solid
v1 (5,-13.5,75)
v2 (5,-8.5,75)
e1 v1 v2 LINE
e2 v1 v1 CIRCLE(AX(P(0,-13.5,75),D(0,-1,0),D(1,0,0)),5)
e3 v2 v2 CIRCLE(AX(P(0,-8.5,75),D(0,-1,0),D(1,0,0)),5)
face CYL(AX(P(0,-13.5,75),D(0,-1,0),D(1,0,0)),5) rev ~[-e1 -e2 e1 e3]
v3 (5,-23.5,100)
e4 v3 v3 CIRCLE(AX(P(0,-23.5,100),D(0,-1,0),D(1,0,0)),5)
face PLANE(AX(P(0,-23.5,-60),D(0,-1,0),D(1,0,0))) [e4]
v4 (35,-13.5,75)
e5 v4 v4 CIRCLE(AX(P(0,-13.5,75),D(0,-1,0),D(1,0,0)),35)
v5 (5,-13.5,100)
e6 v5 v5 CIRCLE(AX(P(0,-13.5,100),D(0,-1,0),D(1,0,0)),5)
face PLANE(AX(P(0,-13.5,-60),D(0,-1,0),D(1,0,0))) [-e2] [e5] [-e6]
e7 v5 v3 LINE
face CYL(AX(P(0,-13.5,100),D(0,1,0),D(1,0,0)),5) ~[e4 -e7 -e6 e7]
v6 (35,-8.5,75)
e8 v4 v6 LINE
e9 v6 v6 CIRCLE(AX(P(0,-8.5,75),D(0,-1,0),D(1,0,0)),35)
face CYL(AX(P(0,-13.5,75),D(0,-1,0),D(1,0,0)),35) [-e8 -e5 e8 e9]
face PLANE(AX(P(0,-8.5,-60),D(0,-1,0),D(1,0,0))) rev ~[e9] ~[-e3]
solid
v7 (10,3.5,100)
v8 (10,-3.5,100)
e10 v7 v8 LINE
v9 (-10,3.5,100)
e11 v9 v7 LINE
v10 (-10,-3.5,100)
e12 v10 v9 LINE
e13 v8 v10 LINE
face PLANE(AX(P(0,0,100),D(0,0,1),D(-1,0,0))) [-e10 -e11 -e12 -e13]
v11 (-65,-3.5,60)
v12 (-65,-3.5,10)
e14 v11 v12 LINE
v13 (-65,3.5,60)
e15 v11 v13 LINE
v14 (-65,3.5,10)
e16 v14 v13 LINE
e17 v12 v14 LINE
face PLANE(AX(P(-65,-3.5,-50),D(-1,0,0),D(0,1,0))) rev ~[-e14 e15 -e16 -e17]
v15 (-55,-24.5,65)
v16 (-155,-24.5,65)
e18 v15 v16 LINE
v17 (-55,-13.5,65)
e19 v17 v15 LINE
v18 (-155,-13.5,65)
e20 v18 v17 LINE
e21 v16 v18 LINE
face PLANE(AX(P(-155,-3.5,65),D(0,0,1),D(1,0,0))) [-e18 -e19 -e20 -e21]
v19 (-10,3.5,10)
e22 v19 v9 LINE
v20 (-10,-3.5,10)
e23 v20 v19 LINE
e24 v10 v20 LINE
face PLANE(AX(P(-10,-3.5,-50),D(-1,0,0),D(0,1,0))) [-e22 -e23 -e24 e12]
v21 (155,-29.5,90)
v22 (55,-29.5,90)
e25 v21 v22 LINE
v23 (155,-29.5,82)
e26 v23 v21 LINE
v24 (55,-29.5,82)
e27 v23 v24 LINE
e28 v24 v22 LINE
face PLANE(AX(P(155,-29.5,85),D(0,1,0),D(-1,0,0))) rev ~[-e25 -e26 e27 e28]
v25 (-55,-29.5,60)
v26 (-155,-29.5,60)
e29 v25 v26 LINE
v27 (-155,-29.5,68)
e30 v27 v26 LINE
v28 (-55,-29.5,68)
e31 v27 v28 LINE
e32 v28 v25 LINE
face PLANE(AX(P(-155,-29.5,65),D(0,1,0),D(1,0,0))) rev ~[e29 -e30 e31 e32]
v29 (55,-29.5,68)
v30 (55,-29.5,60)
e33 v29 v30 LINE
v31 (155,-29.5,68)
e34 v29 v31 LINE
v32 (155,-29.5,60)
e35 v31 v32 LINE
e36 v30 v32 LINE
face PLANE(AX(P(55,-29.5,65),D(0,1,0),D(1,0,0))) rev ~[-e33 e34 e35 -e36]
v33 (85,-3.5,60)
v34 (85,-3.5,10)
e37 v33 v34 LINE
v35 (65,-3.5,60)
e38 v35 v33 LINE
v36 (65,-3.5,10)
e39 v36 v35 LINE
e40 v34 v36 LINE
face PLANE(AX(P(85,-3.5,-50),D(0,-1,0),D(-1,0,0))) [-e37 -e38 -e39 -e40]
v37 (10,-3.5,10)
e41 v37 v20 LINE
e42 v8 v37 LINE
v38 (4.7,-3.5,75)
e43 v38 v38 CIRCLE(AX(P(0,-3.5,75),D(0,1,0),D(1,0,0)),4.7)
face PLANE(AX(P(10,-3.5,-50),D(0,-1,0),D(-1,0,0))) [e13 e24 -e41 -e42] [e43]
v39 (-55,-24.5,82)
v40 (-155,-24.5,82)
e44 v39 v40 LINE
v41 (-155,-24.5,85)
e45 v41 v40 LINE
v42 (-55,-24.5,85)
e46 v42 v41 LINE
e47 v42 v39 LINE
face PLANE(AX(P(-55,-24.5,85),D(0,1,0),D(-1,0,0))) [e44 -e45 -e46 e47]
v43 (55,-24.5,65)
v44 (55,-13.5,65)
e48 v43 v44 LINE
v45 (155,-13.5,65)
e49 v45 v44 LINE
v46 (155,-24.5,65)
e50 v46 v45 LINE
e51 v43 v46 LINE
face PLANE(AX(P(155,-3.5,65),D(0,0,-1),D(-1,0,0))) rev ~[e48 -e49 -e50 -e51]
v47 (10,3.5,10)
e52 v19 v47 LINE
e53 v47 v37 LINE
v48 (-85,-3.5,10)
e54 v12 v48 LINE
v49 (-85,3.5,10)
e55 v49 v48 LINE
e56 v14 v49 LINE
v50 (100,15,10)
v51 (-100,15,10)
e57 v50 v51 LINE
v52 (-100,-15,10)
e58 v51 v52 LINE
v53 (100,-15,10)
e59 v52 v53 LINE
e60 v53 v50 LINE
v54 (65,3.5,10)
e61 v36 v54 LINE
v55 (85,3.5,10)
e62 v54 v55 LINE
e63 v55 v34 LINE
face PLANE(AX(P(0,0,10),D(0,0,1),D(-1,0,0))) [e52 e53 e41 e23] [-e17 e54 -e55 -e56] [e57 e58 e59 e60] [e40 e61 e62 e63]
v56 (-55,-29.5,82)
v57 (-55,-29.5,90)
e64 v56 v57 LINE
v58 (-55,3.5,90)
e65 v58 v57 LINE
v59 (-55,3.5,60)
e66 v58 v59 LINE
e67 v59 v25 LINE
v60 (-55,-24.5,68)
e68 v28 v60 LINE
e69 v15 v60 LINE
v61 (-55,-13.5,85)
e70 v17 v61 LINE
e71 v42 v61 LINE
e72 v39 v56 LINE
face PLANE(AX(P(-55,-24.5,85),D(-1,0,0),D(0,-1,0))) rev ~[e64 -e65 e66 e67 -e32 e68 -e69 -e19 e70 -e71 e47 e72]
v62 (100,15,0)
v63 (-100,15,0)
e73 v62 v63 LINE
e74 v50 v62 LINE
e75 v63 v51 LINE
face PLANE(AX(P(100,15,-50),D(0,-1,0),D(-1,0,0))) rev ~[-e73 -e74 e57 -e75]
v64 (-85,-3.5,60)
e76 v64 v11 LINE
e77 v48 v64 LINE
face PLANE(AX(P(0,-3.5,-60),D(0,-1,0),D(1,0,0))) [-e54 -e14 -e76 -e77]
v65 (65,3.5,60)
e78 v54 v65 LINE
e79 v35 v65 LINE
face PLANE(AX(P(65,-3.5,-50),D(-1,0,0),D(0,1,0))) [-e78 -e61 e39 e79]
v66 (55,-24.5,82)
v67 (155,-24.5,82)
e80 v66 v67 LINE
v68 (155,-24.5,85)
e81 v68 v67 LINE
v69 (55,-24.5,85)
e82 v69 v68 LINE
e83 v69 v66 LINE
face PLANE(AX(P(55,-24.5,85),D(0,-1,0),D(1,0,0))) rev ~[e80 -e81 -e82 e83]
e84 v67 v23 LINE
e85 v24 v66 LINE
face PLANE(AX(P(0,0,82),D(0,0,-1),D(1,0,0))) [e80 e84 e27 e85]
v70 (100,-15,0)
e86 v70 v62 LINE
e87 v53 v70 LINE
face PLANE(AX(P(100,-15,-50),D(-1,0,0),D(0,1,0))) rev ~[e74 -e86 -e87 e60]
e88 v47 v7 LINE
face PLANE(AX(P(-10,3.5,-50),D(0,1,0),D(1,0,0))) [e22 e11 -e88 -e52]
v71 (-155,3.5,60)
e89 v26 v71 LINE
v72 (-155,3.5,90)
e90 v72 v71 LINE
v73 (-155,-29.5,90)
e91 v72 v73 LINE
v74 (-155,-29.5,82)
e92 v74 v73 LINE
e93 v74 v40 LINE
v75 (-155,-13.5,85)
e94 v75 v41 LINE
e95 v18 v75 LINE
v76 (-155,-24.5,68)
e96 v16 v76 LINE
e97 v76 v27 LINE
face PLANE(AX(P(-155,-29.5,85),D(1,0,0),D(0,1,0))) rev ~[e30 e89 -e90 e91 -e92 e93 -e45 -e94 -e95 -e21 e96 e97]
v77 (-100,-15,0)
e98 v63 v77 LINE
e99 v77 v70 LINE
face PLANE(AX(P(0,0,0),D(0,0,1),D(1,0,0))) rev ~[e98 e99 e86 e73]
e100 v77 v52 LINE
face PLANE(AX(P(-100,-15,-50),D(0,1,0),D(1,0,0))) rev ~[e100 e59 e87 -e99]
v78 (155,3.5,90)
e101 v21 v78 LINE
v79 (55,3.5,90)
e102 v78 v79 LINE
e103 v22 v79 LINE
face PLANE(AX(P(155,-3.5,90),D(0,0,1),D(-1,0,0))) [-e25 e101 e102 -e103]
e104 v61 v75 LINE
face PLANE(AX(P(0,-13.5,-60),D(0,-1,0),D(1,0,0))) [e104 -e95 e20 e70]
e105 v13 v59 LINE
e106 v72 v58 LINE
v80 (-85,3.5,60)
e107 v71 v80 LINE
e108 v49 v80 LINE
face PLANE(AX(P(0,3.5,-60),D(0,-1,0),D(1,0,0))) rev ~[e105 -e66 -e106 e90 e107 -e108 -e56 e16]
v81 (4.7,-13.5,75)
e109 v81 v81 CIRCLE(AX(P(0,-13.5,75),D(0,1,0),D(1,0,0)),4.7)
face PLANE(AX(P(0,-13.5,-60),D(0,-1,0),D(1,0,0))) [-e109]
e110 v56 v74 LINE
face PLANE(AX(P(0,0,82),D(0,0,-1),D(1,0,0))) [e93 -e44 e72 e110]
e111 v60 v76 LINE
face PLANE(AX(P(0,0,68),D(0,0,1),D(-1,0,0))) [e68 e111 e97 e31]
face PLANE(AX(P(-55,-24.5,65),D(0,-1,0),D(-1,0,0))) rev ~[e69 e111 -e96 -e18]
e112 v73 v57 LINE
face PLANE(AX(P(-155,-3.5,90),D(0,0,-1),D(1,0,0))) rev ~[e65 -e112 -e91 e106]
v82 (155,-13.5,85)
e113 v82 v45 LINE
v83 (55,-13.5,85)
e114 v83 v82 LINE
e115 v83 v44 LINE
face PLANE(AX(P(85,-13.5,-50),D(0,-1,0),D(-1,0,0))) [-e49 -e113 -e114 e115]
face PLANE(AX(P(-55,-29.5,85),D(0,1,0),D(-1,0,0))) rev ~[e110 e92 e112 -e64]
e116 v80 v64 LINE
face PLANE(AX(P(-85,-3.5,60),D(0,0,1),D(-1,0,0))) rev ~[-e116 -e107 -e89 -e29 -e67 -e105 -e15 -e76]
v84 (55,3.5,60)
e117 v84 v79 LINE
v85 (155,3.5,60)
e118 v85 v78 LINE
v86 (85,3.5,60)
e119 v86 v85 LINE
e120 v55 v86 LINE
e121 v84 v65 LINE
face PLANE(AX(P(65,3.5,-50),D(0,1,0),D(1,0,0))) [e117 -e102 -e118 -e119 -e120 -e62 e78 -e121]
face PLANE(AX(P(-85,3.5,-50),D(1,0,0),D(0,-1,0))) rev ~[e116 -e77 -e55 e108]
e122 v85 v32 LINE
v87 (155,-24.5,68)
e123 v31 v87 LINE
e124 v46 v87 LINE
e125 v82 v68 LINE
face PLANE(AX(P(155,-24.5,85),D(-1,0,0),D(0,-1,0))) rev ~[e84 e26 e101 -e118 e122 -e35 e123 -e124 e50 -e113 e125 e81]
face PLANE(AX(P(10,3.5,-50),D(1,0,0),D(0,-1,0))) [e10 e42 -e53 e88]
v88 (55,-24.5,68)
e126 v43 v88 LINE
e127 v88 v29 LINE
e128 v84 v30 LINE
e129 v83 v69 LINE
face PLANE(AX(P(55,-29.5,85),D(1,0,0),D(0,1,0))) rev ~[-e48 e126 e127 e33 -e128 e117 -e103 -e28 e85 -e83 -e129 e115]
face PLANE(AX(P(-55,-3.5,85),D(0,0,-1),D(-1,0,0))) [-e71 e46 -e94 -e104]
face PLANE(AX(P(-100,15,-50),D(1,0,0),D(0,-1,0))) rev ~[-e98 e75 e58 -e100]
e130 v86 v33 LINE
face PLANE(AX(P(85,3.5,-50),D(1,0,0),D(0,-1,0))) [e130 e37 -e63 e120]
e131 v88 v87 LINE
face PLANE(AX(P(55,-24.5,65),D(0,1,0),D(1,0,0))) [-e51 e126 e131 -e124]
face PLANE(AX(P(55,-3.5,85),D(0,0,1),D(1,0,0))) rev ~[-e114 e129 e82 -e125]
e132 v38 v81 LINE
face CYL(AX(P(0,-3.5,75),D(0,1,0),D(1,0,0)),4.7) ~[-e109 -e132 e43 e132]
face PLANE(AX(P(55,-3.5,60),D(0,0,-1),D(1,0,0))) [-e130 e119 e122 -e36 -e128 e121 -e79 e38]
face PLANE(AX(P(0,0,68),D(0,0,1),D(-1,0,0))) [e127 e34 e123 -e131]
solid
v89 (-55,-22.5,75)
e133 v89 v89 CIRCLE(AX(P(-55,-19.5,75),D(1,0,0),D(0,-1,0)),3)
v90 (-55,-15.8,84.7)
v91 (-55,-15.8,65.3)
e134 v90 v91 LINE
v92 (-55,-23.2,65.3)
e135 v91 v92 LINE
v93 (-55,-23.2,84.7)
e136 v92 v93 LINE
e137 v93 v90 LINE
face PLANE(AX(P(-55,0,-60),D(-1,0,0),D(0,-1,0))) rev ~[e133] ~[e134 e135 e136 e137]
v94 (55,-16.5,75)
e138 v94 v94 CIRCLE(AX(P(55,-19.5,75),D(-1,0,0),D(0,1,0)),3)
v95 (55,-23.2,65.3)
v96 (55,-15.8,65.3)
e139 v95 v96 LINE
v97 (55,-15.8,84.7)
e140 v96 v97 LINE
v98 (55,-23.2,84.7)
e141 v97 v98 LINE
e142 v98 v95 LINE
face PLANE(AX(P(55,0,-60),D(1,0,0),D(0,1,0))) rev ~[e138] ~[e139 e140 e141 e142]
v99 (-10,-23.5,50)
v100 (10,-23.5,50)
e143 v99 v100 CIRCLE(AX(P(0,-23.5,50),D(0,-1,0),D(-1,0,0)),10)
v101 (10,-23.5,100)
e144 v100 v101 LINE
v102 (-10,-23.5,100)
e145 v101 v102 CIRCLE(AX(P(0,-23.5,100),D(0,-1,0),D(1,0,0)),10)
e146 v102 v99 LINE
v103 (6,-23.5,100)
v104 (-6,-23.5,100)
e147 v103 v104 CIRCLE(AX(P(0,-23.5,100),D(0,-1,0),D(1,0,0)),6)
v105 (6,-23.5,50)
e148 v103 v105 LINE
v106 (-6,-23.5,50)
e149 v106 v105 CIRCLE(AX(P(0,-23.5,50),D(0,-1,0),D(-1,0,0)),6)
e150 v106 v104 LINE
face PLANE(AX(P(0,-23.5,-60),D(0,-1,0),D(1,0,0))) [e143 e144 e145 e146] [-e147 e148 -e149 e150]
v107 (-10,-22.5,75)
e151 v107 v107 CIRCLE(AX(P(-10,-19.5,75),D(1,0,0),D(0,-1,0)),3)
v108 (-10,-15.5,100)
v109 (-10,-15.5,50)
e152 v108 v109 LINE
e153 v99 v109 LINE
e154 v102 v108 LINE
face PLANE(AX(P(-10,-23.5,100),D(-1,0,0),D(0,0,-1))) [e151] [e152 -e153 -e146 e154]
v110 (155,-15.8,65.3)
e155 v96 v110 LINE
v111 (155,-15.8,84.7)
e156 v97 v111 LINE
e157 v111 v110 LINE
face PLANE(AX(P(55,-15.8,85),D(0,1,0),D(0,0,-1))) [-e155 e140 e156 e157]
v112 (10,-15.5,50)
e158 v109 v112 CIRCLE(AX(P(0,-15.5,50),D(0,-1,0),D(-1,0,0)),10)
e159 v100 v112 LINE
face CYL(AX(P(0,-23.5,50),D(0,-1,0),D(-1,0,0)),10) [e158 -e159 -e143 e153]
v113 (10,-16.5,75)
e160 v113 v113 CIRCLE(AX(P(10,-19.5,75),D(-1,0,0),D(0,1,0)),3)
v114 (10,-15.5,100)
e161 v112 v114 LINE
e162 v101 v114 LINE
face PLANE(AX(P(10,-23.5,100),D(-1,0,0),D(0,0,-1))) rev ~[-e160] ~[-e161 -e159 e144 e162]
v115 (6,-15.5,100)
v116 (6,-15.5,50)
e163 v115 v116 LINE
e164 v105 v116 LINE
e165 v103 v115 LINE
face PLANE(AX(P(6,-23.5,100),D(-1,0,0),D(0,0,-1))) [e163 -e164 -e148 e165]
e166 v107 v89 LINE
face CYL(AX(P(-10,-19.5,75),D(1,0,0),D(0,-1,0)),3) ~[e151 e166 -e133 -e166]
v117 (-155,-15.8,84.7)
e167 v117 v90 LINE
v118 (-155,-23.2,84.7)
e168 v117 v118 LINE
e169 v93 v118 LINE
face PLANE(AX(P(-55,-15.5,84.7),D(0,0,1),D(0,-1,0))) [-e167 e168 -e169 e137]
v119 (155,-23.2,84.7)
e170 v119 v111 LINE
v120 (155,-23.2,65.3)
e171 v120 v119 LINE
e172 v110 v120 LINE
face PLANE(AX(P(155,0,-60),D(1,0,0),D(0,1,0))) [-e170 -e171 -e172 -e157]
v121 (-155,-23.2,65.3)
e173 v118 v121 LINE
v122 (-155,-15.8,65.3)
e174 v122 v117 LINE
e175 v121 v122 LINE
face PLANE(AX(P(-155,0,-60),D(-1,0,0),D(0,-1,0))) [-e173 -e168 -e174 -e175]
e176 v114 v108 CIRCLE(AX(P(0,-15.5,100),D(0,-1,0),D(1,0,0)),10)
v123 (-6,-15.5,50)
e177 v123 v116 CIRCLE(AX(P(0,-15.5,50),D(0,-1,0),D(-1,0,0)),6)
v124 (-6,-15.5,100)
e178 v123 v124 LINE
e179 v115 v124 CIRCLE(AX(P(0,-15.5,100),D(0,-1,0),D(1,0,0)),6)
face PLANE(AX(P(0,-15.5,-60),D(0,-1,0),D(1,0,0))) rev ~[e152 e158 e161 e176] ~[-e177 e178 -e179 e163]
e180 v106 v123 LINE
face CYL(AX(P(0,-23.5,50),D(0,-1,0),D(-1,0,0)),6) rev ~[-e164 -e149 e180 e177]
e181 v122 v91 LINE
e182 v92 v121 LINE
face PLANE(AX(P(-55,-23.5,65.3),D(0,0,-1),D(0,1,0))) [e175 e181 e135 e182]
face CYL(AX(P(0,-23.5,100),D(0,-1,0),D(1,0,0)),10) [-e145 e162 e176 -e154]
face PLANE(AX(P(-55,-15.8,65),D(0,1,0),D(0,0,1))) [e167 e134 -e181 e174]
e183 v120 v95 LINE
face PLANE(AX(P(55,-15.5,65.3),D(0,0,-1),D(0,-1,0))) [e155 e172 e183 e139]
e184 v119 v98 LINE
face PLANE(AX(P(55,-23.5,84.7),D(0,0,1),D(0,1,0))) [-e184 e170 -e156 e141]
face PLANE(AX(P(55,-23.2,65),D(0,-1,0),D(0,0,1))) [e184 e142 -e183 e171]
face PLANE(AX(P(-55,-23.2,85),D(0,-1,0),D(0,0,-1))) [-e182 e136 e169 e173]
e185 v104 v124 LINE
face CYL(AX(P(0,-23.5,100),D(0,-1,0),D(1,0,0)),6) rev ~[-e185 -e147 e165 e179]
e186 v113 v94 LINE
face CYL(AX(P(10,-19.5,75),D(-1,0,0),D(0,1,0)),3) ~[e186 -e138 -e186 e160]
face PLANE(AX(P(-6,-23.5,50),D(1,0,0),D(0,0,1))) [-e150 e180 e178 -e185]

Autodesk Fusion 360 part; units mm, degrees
sketch "holder base" plane through (0, 0, 0) normal (0, 0, 1) x (1, 0, 0) in component "Holder"
  line L0 (-100, -15) -> (100, -15)
  line L1 (100, -15) -> (100, 15)
  line L2 (100, 15) -> (-100, 15)
  line L3 (-100, 15) -> (-100, -15)
  line L4 (-100, -15) -> (100, 15) construction
  line L5 (100, -15) -> (-100, 15) construction
extrude "Extrude1" add sketch "holder base" along normal blind 10 makes body 1 in component "Holder"
sketch "crank holder base" plane through (0, 0, 10) normal (0, 0, 1) x (-1, 0, 0) in component "Holder"
  line L0 (100, -15) -> (100, 15)
  line L1 (100, 15) -> (-100, 15)
  line L2 (-100, 15) -> (-100, -15)
  line L3 (-100, -15) -> (100, -15)
  line L4 (-10, 3.5) -> (10, 3.5)
  line L5 (10, 3.5) -> (10, -3.5)
  line L6 (10, -3.5) -> (-10, -3.5)
  line L7 (-10, -3.5) -> (-10, 3.5)
  line L8 (-10, 3.5) -> (10, -3.5) construction
  line L9 (10, 3.5) -> (-10, -3.5) construction
  dimension "d3" = 20
  dimension "d4" = 7
extrude "Extrude2" add sketch "crank holder base" along normal blind 150 contours L4 L5 L6 L7 bodies 1 in component "Holder"
sketch "slider holder base" plane through (0, 0, 10) normal (0, 0, 1) x (-1, 0, 0) in component "Holder"
  line L0 (-10, -3.5) -> (-10, 3.5)
  line L1 (-10, 3.5) -> (10, 3.5)
  line L2 (10, 3.5) -> (10, -3.5)
  line L3 (10, -3.5) -> (-10, -3.5)
  line L4 (100, -15) -> (100, 15)
  line L5 (100, 15) -> (-100, 15)
  line L6 (-100, 15) -> (-100, -15)
  line L7 (-100, -15) -> (100, -15)
  line L8 (-85, 3.5) -> (-65, 3.5)
  line L9 (-65, 3.5) -> (-65, -3.5)
  line L10 (-65, -3.5) -> (-85, -3.5)
  line L11 (-85, -3.5) -> (-85, 3.5)
  line L12 (-85, 3.5) -> (-65, -3.5) construction
  line L13 (-65, 3.5) -> (-85, -3.5) construction
  line L14 (0, -15) -> (0, 15)
  line L15 (65, -3.5) -> (85, -3.5)
  line L16 (85, 3.5) -> (65, 3.5)
  line L17 (85, -3.5) -> (85, 3.5)
  line L18 (65, 3.5) -> (65, -3.5)
  point P0 (-75, 0)
  dimension "d7" = 20
  dimension "d8" = 7
extrude "Extrude3" add sketch "slider holder base" along normal blind 110 contours L8 L9 L10 L11 | L15 L16 L17 L18 bodies 1 in component "Holder"
sketch "crank holder" plane through (0, -3.5, 0) normal (0, -1, 0) x (1, 0, 0) in component "Holder"
  line L0 (-10, 10) -> (10, 10)
  line L1 (10, 10) -> (10, 160)
  line L2 (10, 160) -> (-10, 160)
  line L3 (-10, 160) -> (-10, 10)
  circle A0 centre (0, 135) radius 5
  dimension "d11" = 10
extrude "Extrude4" add sketch "crank holder" along normal blind 10 contours A0 bodies 1 in component "Holder"
sketch "crank" plane through (0, -13.5, 0) normal (0, -1, 0) x (1, 0, 0) in component "Crank"
  circle A0 centre (0, 135) radius 5
  circle A1 centre (0, 135) radius 35
  circle A2 centre (0, 160) radius 5
  dimension "d14" = 10
extrude "Extrude1'" add sketch "crank" against normal blind 5 separate body contours A1 | A2 makes body 2 in component "Crank"
move_face "OffsetFaces1" offset -0.3 1 faces at (-4.6985, -10.1667, 133.2899) on bodies 1 in component "Holder"
extrude "Extrude2'" add sketch "crank" along normal blind 10 contours A2 bodies 2 in component "Crank"
sketch "slider holder side" plane through (0, -3.5, 0) normal (0, -1, 0) x (1, 0, 0) in component "Holder"
  line L0 (-85, 10) -> (-65, 10)
  line L1 (-65, 10) -> (-65, 120)
  line L2 (-65, 120) -> (-85, 120)
  line L3 (-85, 120) -> (-85, 10)
  line L4 (-55, 120) -> (-155, 120)
  line L5 (-155, 120) -> (-155, 150)
  line L6 (-155, 150) -> (-55, 150)
  line L7 (-55, 150) -> (-55, 120)
  line L8 (0, 160) -> (0, 10)
  line L9 (155, 150) -> (55, 150)
  line L10 (55, 150) -> (55, 120)
  line L11 (55, 120) -> (155, 120)
  line L12 (155, 120) -> (155, 150)
  line L13 (-155, 150) -> (-55, 150)
  line L14 (-55, 150) -> (-55, 145)
  line L15 (-55, 145) -> (-155, 145)
  line L16 (-155, 145) -> (-155, 150)
  line L17 (-55, 120) -> (-155, 120)
  line L18 (-155, 120) -> (-155, 125)
  line L19 (-155, 125) -> (-55, 125)
  line L20 (-55, 125) -> (-55, 120)
  line L21 (55, 145) -> (155, 145)
  line L22 (155, 125) -> (55, 125)
  dimension "d20" = 100
  dimension "d21" = 30
  dimension "d24" = 5
  dimension "d25" = 5
extrude "Extrude5" add sketch "slider holder side" against normal blind 7 contours L2 L4 L5 L7 L17 L18 L19 L20 | L5 L7 L15 L19 | L5 L6 L7 L13 L14 L15 L16 | L9 L10 L12 L21 | L10 L12 L21 L22 | L10 L11 L12 L22 bodies 1 in component "Holder"
extrude "Extrude6" add sketch "slider holder side" along normal blind 20 contours L2 L4 L5 L7 L17 L18 L19 L20 | L5 L6 L7 L13 L14 L15 L16 | L9 L10 L12 L21 | L10 L11 L12 L22 bodies 1 in component "Holder"
sketch "slider center" plane through (0, -23.5, 0) normal (0, -1, 0) x (1, 0, 0) in component "Slider"
  circle A0 centre (0, 160) radius 5
  line L0 (0, 170) -> (0, 100)
  line L1 (-10, 160) -> (-10, 110)
  line L2 (0, 100) -> (0, 170) construction
  line L3 (10, 160) -> (10, 110)
  line L4 (-10, 135) -> (10, 135) construction
  arc A1 (-6, 110) -> (6, 110) centre (0, 110) ccw
  line L5 (6, 160) -> (6, 110)
  arc A2 (6, 160) -> (-6, 160) centre (0, 160) ccw
  line L6 (-6, 110) -> (-6, 160)
  arc A3 (-10, 110) -> (10, 110) centre (0, 110) ccw
  line L7 (10, 160) -> (10, 110)
  arc A4 (10, 160) -> (-10, 160) centre (0, 160) ccw
  line L8 (-10, 110) -> (-10, 160)
  dimension "d29" = 70
extrude "Extrude1''" add sketch "slider center" against normal blind 8 separate body contours L0 L1 A1 A2 L6 A3 A4 L8 | L0 L3 A1 L5 A2 A3 L7 A4 makes body 3
sketch "Sketch2" plane through (10, 0, 0) normal (1, 0, 0) x (0, 1, 0) in component "Slider"
  line L0 (-23.5, 160) -> (-23.5, 110)
  line L1 (-23.5, 110) -> (-15.5, 110)
  line L2 (-15.5, 110) -> (-15.5, 160)
  line L3 (-15.5, 160) -> (-23.5, 160)
copy_body "CutPasteBodies1" bodies 3 removing the originals makes body 4 in component "Slider"
sketch "slider right link" plane through (10, 0, 0) normal (1, 0, 0) x (0, 1, 0) in component "Slider"
  line L0 (-19.5, 160) -> (-19.5, 110) construction
  circle A0 centre (-19.5, 135) radius 3
  dimension "d34" = 6
extrude "Extrude1'''" add sketch "slider right link" along normal blind 45 bodies 4 in component "Slider"
sketch "slider left link" plane through (-10, 0, 0) normal (-1, 0, 0) x (0, -1, 0) in component "Slider"
  line L0 (23.5, 110) -> (23.5, 160)
  line L1 (23.5, 160) -> (15.5, 160)
  line L2 (15.5, 160) -> (15.5, 110)
  line L3 (15.5, 110) -> (23.5, 110)
  line L4 (19.5, 160) -> (19.5, 110) construction
  circle A0 centre (19.5, 135) radius 3
  dimension "d37" = 6
extrude "Extrude2''" add sketch "slider left link" along normal blind 45 contours A0 bodies 4 in component "Slider"
sketch "slider left" plane through (-55, 0, 0) normal (-1, 0, 0) x (0, -1, 0) in component "Slider"
  circle A0 centre (19.5, 135) radius 3
  line L0 (23.5, 125) -> (15.5, 125)
  line L1 (15.5, 125) -> (15.5, 145)
  line L2 (15.5, 145) -> (23.5, 145)
  line L3 (23.5, 145) -> (23.5, 125)
  line L4 (23.5, 125) -> (15.5, 145) construction
  line L5 (15.5, 125) -> (23.5, 145) construction
  point P0 (19.5, 135)
  dimension "d40" = 8
  dimension "d41" = 20
extrude "Extrude4'" add sketch "slider left" along normal blind 100 contours A0 | L0 L1 L2 L3 bodies 4 in component "Slider"
sketch "slider right" plane through (55, 0, 0) normal (1, 0, 0) x (0, 1, 0) in component "Slider"
  circle A0 centre (-19.5, 135) radius 3
  line L0 (-15.5, 125) -> (-23.5, 125)
  line L1 (-23.5, 125) -> (-23.5, 145)
  line L2 (-23.5, 145) -> (-15.5, 145)
  line L3 (-15.5, 145) -> (-15.5, 125)
  line L4 (-15.5, 125) -> (-23.5, 145) construction
  line L5 (-23.5, 125) -> (-15.5, 145) construction
  point P0 (-19.5, 135)
  dimension "d46" = 8
  dimension "d47" = 20
extrude "Extrude5'" add sketch "slider right" along normal blind 100 contours A0 | L0 L1 L2 L3 bodies 4 in component "Slider"
move_face "OffsetFaces1'" offset -0.3 4 faces at (88.3333, -23.5, 131.6667) (88.3333, -20.8333, 145) (88.3333, -15.5, 138.3333) (88.3333, -18.1667, 125) on bodies 4 in component "Slider"
move_face "OffsetFaces2" offset -0.3 4 faces at (-88.3333, -23.5, 138.3333) (-121.6667, -20.8333, 145) (-88.3333, -20.8333, 125) (-88.3333, -15.5, 131.6667) on bodies 4 in component "Slider"
extrude "Extrude7" add 1 faces at (-121.6667, -3.5, 131.6667) along direction (0, -1, 0) blind 10 on bodies 1 bodies 1 in component "Holder"
extrude "Extrude8" add 1 faces at (121.6667, -3.5, 131.6667) along direction (0, -1, 0) blind 10 on bodies 1 bodies 1 in component "Holder"
extrude "Extrude9" add 4 faces at (-121.6667, -23.5, 148.3333) (-121.6667, -23.5, 123.3333) (88.3333, -23.5, 148.3333) (88.3333, -23.5, 123.3333) along direction (0, -1, 0) blind 6 on bodies 1 bodies 1 in component "Holder"
sketch "slider rail right bottom" plane through (0, 0, 125) normal (0, 0, 1) x (-1, 0, 0) in component "Holder"
  line L0 (-155, 13.5) -> (-55, 13.5)
  line L1 (-55, 13.5) -> (-55, 29.5)
  line L2 (-55, 29.5) -> (-155, 29.5)
  line L3 (-155, 29.5) -> (-155, 13.5)
  line L4 (-155, 29.5) -> (-55, 29.5)
  line L5 (-55, 29.5) -> (-55, 24.5)
  line L6 (-55, 24.5) -> (-155, 24.5)
  line L7 (-155, 24.5) -> (-155, 29.5)
  dimension "d58" = 100
  dimension "d59" = 5
sketch "slider rail right top" plane through (0, 0, 145) normal (0, 0, -1) x (1, 0, 0) in component "Holder"
  line L0 (55, 13.5) -> (155, 13.5)
  line L1 (155, 13.5) -> (155, 29.5)
  line L2 (155, 29.5) -> (55, 29.5)
  line L3 (55, 29.5) -> (55, 13.5)
  line L4 (155, 29.5) -> (55, 29.5)
  line L5 (55, 29.5) -> (55, 24.5)
  line L6 (55, 24.5) -> (155, 24.5)
  line L7 (155, 24.5) -> (155, 29.5)
  dimension "d60" = 100
  dimension "d61" = 5
extrude "Extrude10" add sketch "slider rail right bottom" along normal blind 3 contours L1 L2 L3 L4 L5 L6 L7 bodies 1 in component "Holder"
extrude "Extrude11" add sketch "slider rail right top" along normal blind 3 contours L1 L2 L3 L4 L5 L6 L7 bodies 1 in component "Holder"
sketch "slider rail left bottom" plane through (0, 0, 125) normal (0, 0, 1) x (-1, 0, 0) in component "Holder"
  line L0 (55, 13.5) -> (155, 13.5)
  line L1 (155, 13.5) -> (155, 29.5)
  line L2 (155, 29.5) -> (55, 29.5)
  line L3 (55, 29.5) -> (55, 13.5)
  line L4 (155, 29.5) -> (55, 29.5)
  line L5 (55, 29.5) -> (55, 24.5)
  line L6 (55, 24.5) -> (155, 24.5)
  line L7 (155, 24.5) -> (155, 29.5)
  dimension "d66" = 100
  dimension "d67" = 5
sketch "slider rail left top" plane through (0, 0, 145) normal (0, 0, -1) x (1, 0, 0) in component "Holder"
  line L0 (-155, 13.5) -> (-55, 13.5)
  line L1 (-55, 13.5) -> (-55, 29.5)
  line L2 (-55, 29.5) -> (-155, 29.5)
  line L3 (-155, 29.5) -> (-155, 13.5)
  line L4 (-155, 29.5) -> (-55, 29.5)
  line L5 (-55, 29.5) -> (-55, 24.5)
  line L6 (-55, 24.5) -> (-155, 24.5)
  line L7 (-155, 24.5) -> (-155, 29.5)
  dimension "d68" = 100
  dimension "d69" = 5
extrude "Extrude12" add sketch "slider rail left bottom" along normal blind 3 contours L1 L2 L3 L4 L5 L6 L7 bodies 1 in component "Holder"
extrude "Extrude13" add sketch "slider rail left top" along normal blind 3 contours L1 L2 L3 L4 L5 L6 L7 bodies 1 in component "Holder"
extrude "Extrude14" add sketch "crank holder base" along normal blind 60 bodies 1 in component "Holder"
extrude "Extrude15" cut sketch "holder base" along normal blind 60 bodies 1 in component "Holder"
component "Holder" placed x (1, 0, 0) y (0, 1, 0) z (0, 0, 1) at (0, 0, -60)
component "Crank" placed x (1, 0, 0) y (0, 1, 0) z (0, 0, 1) at (0, 0, -60)
component "Slider" placed x (1, 0, 0) y (0, 1, 0) z (0, 0, 1) at (0, 0, -60)
